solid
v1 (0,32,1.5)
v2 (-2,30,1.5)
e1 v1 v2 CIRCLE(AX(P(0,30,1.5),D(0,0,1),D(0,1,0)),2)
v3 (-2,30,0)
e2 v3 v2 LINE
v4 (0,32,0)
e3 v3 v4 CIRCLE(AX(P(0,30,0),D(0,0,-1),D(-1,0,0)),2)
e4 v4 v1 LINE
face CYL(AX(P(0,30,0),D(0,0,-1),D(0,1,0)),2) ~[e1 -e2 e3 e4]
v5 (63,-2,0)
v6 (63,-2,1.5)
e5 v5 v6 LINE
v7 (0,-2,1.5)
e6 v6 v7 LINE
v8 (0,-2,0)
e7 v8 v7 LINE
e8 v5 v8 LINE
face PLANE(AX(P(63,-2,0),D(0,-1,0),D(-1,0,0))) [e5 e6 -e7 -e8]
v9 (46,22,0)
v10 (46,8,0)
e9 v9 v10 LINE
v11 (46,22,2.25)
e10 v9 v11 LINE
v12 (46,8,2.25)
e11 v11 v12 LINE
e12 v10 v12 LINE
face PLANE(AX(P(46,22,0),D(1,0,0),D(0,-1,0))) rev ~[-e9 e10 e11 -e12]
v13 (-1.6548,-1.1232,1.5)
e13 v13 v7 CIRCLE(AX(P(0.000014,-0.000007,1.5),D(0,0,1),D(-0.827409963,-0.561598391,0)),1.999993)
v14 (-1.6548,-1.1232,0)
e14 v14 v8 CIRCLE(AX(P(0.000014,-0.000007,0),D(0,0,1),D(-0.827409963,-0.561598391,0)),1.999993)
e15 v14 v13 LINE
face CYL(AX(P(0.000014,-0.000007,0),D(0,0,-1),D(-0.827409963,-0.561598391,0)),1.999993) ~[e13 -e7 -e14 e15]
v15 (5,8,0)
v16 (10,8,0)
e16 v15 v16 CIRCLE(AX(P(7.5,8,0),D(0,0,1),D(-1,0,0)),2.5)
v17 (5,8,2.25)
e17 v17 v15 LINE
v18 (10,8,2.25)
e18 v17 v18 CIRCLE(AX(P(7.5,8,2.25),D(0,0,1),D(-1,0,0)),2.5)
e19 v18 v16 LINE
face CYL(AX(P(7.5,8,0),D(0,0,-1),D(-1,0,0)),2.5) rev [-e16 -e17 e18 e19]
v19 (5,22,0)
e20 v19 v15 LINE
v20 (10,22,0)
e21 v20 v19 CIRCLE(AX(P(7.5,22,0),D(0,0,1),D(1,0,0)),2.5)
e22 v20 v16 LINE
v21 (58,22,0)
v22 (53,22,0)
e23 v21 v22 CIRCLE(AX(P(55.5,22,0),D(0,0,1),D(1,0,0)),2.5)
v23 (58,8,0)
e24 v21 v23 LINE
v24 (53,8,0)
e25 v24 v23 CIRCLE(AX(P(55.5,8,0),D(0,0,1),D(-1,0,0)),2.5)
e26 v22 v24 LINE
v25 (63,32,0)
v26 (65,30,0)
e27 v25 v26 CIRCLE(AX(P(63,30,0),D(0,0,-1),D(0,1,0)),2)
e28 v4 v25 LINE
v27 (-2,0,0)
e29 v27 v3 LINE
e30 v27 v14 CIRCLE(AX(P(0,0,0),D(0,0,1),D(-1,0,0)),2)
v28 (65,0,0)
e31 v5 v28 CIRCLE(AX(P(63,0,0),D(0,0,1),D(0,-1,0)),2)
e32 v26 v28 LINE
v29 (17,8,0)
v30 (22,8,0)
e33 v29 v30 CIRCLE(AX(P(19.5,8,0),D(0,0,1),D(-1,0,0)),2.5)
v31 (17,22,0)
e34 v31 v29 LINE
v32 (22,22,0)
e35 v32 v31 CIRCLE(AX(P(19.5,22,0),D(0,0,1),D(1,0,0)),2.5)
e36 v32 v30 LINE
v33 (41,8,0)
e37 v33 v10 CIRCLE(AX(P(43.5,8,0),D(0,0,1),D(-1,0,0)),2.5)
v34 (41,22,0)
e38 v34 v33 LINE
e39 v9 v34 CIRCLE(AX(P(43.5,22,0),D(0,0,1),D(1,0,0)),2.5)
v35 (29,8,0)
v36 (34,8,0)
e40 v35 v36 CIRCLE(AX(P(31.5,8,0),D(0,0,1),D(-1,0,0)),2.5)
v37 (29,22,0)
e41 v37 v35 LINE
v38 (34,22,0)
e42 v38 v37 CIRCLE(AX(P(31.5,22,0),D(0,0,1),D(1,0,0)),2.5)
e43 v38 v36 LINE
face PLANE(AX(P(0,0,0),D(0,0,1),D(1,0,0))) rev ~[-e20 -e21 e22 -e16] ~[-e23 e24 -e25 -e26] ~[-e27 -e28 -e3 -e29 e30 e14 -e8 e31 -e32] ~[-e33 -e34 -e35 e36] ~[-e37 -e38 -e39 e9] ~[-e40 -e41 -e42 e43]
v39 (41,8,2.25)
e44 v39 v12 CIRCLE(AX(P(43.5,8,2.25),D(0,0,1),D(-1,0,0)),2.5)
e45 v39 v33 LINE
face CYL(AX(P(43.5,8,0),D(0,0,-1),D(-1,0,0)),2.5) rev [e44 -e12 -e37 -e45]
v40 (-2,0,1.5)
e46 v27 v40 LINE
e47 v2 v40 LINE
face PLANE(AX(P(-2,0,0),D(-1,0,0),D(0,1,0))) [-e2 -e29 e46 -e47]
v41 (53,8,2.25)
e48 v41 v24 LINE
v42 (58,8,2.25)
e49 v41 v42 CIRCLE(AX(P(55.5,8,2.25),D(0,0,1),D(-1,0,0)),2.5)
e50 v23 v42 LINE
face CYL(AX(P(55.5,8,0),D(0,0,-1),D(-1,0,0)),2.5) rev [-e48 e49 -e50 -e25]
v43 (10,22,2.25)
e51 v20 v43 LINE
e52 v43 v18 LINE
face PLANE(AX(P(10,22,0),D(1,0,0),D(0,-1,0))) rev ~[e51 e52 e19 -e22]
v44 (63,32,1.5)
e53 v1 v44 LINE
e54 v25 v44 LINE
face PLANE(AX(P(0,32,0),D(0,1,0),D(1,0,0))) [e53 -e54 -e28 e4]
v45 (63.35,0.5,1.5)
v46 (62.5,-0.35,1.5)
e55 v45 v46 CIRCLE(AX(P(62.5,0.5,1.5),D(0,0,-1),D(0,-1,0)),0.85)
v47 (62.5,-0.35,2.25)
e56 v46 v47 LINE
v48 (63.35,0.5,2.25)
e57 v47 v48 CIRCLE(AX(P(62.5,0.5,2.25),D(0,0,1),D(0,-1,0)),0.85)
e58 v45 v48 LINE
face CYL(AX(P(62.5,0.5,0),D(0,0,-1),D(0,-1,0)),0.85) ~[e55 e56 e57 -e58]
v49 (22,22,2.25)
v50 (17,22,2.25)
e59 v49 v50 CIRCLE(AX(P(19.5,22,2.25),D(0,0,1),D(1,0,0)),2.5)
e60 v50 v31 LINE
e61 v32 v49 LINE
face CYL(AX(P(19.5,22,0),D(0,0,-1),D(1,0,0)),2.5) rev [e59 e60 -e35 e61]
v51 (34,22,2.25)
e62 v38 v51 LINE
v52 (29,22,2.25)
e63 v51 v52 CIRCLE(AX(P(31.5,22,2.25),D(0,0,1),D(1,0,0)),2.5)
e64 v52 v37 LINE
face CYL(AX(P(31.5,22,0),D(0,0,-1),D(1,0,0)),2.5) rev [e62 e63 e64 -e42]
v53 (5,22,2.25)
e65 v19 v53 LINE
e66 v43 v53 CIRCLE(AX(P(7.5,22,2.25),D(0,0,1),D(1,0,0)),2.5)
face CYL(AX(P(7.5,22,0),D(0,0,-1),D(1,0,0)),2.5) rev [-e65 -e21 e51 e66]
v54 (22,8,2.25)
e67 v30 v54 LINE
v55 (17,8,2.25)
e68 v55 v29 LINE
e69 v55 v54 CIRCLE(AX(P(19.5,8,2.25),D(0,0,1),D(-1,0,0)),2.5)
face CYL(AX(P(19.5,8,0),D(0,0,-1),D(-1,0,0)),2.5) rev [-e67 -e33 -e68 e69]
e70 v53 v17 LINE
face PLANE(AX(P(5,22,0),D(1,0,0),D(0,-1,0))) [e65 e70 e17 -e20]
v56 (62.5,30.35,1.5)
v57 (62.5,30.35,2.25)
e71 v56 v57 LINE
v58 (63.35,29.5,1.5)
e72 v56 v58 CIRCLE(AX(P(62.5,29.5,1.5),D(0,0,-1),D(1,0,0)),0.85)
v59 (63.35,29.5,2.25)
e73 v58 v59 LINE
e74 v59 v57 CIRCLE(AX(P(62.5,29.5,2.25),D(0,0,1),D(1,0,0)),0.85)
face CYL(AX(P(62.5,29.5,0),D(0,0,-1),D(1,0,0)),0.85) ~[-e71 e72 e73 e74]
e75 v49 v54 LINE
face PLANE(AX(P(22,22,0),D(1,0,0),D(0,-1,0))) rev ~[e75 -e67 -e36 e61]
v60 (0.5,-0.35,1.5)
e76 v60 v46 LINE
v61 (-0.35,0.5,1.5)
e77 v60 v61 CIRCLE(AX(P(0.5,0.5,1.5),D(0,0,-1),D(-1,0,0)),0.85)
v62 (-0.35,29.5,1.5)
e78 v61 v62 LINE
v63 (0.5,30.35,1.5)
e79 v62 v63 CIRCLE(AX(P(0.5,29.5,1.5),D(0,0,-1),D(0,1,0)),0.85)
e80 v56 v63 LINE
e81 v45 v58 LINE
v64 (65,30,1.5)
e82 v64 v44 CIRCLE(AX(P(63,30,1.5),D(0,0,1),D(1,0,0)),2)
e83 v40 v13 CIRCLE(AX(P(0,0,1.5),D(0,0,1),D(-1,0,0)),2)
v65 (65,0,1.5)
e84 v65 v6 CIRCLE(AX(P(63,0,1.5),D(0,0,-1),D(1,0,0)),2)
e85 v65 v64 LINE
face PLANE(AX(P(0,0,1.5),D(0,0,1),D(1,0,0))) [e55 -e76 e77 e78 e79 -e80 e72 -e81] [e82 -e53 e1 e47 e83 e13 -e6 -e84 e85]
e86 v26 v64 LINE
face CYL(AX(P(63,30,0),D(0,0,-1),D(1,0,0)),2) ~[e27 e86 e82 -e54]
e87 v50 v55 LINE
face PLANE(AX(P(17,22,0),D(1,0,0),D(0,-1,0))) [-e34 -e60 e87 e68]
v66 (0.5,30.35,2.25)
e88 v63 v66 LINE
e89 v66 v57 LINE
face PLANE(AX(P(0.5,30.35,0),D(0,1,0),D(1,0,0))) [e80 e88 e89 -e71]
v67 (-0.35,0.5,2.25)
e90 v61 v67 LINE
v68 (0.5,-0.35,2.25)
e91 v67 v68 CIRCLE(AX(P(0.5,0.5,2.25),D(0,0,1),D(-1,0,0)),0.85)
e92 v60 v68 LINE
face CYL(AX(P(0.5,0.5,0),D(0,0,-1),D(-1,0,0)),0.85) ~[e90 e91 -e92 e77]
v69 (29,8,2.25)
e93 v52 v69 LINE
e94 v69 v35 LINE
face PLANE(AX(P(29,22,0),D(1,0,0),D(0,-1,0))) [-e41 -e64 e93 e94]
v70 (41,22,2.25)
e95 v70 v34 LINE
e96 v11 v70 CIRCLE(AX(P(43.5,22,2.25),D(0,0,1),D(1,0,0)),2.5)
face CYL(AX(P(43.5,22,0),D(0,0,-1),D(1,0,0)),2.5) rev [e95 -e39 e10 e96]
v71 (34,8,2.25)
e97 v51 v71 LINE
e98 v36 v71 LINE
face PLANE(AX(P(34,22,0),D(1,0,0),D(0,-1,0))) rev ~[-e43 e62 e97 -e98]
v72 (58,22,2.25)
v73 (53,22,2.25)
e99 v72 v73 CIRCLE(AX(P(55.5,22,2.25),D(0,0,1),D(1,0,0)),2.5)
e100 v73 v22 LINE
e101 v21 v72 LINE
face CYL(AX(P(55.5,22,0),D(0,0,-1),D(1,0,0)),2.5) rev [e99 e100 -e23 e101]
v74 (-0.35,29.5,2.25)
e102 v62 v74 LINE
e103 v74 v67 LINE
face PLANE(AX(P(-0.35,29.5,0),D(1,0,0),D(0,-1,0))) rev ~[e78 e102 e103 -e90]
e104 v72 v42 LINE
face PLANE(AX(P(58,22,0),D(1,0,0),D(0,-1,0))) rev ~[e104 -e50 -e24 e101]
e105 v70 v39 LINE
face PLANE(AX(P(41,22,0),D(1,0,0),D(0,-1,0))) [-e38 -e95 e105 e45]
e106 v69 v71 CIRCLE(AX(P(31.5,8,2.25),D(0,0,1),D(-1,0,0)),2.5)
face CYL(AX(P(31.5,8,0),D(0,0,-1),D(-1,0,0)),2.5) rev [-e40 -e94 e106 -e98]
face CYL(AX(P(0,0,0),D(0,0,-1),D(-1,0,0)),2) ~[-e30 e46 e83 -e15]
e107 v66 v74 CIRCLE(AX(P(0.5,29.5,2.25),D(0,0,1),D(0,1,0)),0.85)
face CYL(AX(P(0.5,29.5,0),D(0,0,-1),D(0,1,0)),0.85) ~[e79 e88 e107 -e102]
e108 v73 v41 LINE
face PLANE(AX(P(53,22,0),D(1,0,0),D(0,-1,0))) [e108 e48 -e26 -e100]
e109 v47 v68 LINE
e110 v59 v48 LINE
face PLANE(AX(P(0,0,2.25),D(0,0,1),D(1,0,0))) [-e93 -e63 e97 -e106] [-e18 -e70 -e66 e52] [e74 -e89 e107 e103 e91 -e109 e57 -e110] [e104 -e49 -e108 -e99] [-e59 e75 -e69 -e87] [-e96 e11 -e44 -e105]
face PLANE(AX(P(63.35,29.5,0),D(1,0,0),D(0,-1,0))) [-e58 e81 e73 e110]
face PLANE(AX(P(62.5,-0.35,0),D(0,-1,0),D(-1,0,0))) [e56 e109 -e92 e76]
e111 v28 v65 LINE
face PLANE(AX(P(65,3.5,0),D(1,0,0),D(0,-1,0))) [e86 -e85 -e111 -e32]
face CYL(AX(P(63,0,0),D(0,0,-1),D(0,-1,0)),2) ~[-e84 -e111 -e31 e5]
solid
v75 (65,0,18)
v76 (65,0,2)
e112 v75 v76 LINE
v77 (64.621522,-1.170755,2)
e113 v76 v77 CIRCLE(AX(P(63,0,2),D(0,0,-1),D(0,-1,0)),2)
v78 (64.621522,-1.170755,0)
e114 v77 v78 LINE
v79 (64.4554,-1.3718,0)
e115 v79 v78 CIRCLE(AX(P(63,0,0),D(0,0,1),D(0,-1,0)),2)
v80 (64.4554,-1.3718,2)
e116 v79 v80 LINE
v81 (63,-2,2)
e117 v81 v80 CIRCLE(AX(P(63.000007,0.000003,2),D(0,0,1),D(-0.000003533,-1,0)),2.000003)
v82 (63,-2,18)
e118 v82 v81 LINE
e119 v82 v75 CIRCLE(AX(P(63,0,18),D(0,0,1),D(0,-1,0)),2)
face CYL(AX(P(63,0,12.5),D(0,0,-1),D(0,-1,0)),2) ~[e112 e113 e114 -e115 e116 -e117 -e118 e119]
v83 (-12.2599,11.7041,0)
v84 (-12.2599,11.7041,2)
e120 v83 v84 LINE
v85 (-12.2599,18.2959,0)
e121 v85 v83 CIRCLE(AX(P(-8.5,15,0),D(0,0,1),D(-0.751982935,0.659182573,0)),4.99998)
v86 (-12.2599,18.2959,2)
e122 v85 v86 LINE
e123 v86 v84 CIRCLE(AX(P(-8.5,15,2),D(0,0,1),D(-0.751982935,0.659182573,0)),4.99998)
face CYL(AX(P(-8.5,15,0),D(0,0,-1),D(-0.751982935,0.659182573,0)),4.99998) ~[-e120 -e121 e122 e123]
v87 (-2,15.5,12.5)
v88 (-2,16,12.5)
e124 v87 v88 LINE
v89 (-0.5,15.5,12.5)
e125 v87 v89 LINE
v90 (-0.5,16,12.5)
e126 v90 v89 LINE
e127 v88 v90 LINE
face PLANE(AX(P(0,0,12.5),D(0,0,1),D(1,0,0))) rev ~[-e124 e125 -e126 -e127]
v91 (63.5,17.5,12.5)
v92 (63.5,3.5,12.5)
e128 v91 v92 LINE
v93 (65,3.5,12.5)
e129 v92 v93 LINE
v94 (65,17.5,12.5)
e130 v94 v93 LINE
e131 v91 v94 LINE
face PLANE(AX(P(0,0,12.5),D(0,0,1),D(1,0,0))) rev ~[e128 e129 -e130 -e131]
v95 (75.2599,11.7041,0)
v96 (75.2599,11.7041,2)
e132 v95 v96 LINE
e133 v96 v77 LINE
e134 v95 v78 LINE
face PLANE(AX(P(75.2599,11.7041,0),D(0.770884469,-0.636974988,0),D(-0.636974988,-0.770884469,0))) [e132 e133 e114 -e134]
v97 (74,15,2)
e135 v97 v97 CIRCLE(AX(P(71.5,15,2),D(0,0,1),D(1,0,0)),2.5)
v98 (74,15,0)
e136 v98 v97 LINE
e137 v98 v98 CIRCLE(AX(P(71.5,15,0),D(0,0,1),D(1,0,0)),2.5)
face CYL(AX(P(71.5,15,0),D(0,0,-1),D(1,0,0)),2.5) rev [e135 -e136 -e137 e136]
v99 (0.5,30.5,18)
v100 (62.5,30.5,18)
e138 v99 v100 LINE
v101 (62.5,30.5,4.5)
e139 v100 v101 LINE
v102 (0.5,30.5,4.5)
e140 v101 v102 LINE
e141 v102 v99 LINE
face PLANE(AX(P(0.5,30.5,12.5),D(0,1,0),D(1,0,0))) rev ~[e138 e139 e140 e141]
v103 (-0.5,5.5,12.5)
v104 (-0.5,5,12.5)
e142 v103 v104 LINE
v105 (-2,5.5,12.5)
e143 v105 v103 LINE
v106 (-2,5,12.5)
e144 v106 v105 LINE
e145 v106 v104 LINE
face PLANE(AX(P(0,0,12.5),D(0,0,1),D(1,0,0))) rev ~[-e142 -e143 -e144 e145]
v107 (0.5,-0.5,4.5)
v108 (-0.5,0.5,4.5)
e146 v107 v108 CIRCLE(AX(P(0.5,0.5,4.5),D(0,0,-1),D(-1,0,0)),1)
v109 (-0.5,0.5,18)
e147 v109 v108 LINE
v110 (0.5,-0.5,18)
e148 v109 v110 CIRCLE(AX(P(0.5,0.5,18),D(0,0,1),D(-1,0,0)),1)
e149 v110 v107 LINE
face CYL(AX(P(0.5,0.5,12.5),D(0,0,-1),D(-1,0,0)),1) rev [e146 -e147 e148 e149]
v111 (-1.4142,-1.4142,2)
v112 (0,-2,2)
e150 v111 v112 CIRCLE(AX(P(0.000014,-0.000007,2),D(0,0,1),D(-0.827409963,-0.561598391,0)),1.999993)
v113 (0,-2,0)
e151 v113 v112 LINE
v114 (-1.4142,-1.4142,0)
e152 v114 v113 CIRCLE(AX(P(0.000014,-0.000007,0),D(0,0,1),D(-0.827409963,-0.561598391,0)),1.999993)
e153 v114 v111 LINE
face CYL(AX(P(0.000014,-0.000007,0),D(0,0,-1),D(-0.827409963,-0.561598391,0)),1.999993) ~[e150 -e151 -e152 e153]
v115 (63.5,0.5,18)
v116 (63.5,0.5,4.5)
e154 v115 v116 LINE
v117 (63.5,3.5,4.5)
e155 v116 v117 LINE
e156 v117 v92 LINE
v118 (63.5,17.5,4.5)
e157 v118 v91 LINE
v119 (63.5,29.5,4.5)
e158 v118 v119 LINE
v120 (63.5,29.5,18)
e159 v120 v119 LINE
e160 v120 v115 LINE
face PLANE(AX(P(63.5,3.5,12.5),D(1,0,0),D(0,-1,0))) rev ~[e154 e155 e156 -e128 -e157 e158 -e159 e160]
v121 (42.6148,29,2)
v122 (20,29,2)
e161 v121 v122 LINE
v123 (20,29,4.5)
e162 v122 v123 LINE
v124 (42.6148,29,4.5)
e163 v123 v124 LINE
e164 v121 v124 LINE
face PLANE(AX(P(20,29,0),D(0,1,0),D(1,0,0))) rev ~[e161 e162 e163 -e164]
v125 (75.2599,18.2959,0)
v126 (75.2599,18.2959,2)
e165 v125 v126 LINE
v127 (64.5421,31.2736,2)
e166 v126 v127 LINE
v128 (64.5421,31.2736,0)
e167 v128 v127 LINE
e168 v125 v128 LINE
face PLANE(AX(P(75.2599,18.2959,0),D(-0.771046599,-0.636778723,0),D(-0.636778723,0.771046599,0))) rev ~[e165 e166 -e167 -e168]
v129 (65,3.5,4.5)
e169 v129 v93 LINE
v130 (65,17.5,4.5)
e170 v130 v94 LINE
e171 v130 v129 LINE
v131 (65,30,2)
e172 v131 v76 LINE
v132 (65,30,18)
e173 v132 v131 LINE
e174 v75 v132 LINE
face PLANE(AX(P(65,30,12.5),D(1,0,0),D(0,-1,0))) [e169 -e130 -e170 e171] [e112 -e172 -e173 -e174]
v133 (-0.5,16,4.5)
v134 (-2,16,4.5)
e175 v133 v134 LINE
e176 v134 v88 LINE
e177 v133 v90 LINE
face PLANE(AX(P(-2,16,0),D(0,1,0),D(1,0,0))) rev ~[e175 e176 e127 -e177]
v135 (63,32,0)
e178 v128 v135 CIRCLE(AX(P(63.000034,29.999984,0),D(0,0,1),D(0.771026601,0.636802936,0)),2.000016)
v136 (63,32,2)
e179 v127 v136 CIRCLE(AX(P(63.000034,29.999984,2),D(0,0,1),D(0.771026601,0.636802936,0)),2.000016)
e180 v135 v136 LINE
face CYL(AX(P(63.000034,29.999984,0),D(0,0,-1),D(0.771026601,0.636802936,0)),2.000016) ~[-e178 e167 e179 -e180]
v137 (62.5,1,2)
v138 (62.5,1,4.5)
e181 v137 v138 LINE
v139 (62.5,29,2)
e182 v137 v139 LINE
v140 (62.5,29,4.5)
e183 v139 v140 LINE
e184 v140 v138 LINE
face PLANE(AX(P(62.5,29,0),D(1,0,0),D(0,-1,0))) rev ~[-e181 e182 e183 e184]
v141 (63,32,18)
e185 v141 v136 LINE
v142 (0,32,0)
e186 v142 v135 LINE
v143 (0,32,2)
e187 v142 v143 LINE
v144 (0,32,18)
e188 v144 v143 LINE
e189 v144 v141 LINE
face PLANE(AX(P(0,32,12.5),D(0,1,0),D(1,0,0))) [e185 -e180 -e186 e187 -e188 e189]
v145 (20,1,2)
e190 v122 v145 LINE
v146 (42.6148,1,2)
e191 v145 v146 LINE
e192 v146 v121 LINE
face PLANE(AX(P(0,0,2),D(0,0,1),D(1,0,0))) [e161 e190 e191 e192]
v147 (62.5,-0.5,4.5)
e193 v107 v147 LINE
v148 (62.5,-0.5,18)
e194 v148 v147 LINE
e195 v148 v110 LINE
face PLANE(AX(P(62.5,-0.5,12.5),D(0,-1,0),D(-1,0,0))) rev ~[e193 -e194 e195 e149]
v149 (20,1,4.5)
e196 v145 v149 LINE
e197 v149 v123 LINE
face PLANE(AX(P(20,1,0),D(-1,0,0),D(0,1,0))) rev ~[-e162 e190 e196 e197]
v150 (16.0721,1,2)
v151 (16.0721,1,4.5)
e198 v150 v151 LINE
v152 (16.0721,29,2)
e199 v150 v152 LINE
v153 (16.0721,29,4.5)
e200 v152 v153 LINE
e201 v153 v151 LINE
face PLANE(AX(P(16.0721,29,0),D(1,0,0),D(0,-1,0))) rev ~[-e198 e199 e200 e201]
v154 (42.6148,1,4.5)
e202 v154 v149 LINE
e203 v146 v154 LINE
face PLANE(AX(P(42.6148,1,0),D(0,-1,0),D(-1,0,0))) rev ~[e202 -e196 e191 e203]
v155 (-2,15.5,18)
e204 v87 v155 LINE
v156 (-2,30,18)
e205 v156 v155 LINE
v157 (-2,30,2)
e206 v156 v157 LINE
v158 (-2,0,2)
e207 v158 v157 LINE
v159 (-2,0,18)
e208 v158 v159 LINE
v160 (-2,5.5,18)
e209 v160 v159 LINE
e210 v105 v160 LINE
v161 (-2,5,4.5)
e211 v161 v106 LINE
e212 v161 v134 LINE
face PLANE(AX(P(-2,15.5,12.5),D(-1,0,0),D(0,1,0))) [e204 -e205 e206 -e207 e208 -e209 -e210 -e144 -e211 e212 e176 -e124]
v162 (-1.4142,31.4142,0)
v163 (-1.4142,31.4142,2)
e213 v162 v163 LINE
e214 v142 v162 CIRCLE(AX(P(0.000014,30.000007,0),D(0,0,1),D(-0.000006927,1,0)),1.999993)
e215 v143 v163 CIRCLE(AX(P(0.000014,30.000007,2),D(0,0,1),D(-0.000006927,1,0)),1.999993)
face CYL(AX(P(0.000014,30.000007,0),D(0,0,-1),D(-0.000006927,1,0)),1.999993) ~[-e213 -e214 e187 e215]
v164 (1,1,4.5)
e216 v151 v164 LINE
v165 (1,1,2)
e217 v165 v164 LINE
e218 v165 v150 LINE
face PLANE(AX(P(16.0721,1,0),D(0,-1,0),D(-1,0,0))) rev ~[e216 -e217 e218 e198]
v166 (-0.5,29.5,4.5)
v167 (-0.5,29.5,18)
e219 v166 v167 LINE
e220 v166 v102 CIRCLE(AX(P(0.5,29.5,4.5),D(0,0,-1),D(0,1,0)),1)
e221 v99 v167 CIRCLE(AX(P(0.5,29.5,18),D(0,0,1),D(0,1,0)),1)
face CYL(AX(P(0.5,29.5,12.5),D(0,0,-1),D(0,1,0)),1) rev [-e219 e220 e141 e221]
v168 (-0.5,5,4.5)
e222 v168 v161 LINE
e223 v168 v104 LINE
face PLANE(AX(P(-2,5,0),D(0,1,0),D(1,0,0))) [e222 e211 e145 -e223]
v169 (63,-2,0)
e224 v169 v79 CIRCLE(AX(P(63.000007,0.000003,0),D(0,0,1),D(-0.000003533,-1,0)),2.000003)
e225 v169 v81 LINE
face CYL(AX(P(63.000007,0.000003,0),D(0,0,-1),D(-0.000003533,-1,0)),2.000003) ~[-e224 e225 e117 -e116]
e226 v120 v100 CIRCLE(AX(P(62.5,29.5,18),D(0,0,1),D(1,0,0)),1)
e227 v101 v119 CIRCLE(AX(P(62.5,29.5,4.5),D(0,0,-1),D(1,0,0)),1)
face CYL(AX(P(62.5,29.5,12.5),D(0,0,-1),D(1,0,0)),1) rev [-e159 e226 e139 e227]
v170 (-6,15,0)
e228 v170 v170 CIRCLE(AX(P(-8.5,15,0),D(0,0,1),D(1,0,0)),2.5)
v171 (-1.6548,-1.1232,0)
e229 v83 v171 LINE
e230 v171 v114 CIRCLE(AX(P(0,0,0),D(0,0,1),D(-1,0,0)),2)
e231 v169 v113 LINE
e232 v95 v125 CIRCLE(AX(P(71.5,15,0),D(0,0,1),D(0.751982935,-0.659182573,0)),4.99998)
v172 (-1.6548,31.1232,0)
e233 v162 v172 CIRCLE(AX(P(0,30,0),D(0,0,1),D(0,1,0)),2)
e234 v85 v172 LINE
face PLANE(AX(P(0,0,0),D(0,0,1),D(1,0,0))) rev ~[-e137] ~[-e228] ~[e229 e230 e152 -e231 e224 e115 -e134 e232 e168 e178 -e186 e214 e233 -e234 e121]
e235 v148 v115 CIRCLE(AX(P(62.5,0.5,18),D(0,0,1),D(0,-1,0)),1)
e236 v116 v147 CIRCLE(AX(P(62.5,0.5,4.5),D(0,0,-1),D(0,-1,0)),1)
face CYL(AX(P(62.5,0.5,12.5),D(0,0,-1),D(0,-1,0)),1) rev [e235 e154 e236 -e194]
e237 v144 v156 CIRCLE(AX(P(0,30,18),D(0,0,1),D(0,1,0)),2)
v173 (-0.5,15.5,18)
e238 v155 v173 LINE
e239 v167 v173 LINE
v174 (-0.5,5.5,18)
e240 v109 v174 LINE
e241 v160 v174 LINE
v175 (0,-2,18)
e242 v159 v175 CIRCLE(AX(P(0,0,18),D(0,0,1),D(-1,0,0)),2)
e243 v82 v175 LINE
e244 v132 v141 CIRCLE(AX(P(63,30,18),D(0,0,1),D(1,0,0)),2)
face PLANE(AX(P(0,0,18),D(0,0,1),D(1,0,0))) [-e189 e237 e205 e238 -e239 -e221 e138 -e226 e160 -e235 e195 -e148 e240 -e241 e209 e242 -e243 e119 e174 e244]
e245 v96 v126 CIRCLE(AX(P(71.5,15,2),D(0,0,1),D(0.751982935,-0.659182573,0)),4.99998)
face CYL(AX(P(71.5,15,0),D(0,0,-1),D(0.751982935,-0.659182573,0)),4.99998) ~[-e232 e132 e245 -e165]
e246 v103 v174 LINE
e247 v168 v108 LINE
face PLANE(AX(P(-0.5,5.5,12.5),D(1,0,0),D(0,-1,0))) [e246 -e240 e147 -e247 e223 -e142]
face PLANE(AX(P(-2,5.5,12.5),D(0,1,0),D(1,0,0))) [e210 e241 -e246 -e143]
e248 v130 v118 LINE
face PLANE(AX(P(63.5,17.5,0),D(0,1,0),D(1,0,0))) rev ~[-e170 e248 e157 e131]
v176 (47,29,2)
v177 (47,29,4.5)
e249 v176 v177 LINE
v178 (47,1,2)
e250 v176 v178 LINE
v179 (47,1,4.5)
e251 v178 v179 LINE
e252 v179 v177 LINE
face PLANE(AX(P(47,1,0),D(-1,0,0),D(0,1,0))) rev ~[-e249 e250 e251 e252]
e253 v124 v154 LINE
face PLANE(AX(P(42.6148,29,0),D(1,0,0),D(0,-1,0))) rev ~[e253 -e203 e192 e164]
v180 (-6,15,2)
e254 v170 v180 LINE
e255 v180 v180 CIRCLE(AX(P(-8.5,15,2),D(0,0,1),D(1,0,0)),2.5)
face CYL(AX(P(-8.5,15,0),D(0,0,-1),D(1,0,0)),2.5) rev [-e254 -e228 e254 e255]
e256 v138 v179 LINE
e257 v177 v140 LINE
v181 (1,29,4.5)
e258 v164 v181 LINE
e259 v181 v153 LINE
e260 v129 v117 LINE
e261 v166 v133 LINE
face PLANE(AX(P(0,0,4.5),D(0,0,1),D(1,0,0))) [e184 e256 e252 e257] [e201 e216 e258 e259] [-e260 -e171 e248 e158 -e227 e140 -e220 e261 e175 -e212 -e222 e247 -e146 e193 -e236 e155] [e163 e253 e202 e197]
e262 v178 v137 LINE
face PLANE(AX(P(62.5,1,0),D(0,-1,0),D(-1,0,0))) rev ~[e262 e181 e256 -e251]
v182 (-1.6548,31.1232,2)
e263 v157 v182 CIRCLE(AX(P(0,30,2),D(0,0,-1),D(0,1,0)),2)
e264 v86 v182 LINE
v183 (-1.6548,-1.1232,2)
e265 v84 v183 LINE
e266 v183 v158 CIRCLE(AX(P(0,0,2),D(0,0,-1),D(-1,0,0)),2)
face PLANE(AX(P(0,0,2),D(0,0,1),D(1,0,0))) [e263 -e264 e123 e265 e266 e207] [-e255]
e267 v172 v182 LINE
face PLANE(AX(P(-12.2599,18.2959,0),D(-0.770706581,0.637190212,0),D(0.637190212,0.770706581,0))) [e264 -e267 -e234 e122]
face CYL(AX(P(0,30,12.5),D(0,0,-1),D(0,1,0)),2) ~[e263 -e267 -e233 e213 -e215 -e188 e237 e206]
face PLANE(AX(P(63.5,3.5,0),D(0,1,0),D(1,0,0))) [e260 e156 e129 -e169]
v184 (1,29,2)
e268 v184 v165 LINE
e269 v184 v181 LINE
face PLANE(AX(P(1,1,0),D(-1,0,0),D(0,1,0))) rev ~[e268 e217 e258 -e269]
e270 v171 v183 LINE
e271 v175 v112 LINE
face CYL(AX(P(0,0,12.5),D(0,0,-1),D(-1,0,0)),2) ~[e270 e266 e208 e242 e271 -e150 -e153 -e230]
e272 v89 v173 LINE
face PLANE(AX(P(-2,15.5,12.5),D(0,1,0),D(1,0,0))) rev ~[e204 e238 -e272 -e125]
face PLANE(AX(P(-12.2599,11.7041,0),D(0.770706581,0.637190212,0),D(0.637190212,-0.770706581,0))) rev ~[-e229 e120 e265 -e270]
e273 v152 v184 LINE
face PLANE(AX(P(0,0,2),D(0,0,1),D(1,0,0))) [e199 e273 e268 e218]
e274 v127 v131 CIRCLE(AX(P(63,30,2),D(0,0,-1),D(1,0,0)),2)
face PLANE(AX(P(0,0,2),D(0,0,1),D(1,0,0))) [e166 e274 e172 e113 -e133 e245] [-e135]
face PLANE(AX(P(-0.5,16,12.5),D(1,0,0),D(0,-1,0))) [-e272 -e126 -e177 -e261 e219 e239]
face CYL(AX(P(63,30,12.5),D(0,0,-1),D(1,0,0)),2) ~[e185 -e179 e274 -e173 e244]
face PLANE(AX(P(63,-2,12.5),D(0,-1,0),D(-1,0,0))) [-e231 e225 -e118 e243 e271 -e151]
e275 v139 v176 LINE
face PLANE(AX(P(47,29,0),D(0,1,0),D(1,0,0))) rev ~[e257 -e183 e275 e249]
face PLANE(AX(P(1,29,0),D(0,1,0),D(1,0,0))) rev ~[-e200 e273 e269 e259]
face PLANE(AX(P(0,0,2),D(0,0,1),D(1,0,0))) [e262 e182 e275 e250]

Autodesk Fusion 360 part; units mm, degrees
sketch "Sketch1" plane through (0, 0, 0) normal (0, 0, 1) x (1, 0, 0) in component "card"
  line L0 (0, 0) -> (63, 0)
  line L1 (63, 0) -> (63, 30)
  line L2 (63, 30) -> (0, 30)
  line L3 (0, 30) -> (0, 0)
  line L4 (1, 29) -> (8.5, 29)
  line L5 (8.5, 29) -> (8.5, 19)
  line L6 (8.5, 19) -> (1, 19)
  line L7 (1, 19) -> (1, 29)
  line L8 (1, 6) -> (14.5, 6)
  line L9 (14.5, 6) -> (14.5, 15)
  line L10 (14.5, 15) -> (1, 15)
  line L11 (1, 15) -> (1, 6)
  line L12 (62, 29) -> (54.5, 29)
  line L13 (54.5, 29) -> (54.5, 19)
  line L14 (54.5, 19) -> (62, 19)
  line L15 (62, 19) -> (62, 29)
  line L16 (62, 4) -> (52, 4)
  line L17 (52, 4) -> (52, 17)
  line L18 (52, 17) -> (62, 17)
  line L19 (62, 17) -> (62, 4)
  dimension "d1" = 63
  dimension "d2" = 30
  dimension "d3" = 7.5
  dimension "d4" = 10
  dimension "d5" = 13.5
  dimension "d6" = 9
  dimension "d7" = 7.5
  dimension "d8" = 10
  dimension "d9" = 10
  dimension "d10" = 13
sketch "pcb support 0,4.5" plane through (0, 0, 0) normal (0, 0, 1) x (1, 0, 0) in component "bottom"
  line L0 (62.5, 29) -> (62.5, 1)
  line L1 (1, 1) -> (1, 29)
  line L2 (20, 1) -> (20, 29)
  line L3 (16.0721, 29) -> (16.0721, 1)
  line L4 (42.6148, 29) -> (42.6148, 1)
  line L5 (47, 1) -> (47, 29)
  line L6 (1, 29) -> (16.0721, 29)
  line L7 (20, 29) -> (42.6148, 29)
  line L8 (47, 29) -> (62.5, 29)
  line L9 (16.0721, 1) -> (1, 1)
  line L10 (62.5, 1) -> (47, 1)
  line L11 (42.6148, 1) -> (20, 1)
  line L12 (0, 32) -> (63, 32)
  line L13 (65, 30) -> (65, 0)
  line L14 (63, -2) -> (0, -2)
  line L15 (-2, 0) -> (-2, 30)
  arc A0 (0, 32) -> (-2, 30) centre (0, 30) ccw
  arc A1 (65, 30) -> (63, 32) centre (63, 30) ccw
  arc A2 (-2, 0) -> (0, -2) centre (0, 0) ccw
  arc A3 (63, -2) -> (65, 0) centre (63, 0) ccw
  dimension "d11" = 61.5
  dimension "d12" = 28
  dimension "d13" = 2
sketch "bottom 0,2.0" plane through (0, 0, 0) normal (0, 0, 1) x (1, 0, 0) in component "bottom"
  line L0 (0, 32) -> (63, 32)
  arc A0 (64.5421, 31.2736) -> (63, 32) centre (63, 30) ccw
  arc A1 (63, -2) -> (64.4554, -1.3718) centre (63, 0) ccw
  line L1 (63, -2) -> (0, -2)
  arc A2 (-1.6548, -1.1232) -> (0, -2) centre (0, 0) ccw
  arc A3 (0, 32) -> (-1.6548, 31.1232) centre (0, 30) ccw
  circle A4 centre (-8.5, 15) radius 2.5
  circle A5 centre (71.5, 15) radius 2.5
  arc A6 (-12.2599, 18.2959) -> (-12.2599, 11.7041) centre (-8.5, 15) ccw
  arc A7 (75.2599, 11.7041) -> (75.2599, 18.2959) centre (71.5, 15) ccw
  line L2 (-12.2599, 18.2959) -> (-1.4142, 31.4142)
  line L3 (-12.2599, 11.7041) -> (-1.4142, -1.4142)
  line L4 (75.2599, 18.2959) -> (64.5421, 31.2736)
  line L5 (75.2599, 11.7041) -> (64.4554, -1.3718)
  dimension "d14" = 2
  dimension "d15" = 5
  dimension "d17" = 5
  dimension "d19" = 10
  dimension "d20" = 10
sketch "lower wall 0,12.5" plane through (0, 0, 0) normal (0, 0, 1) x (1, 0, 0) in component "bottom"
  line L0 (0.5, 30.5) -> (62.5, 30.5)
  line L1 (62.5, -0.5) -> (0.5, -0.5)
  line L2 (0, 32) -> (63, 32)
  arc A0 (0, 32) -> (-2, 30) centre (0, 30) ccw
  arc A1 (-2, 0) -> (0, -2) centre (0, 0) ccw
  line L3 (63, -2) -> (0, -2)
  arc A2 (63, -2) -> (65, 0) centre (63, 0) ccw
  arc A3 (65, 30) -> (63, 32) centre (63, 30) ccw
  arc A4 (0.5, 30.5) -> (-0.5, 29.5) centre (0.5, 29.5) ccw
  arc A5 (-0.5, 0.5) -> (0.5, -0.5) centre (0.5, 0.5) ccw
  arc A6 (63.5, 29.5) -> (62.5, 30.5) centre (62.5, 29.5) ccw
  arc A7 (62.5, -0.5) -> (63.5, 0.5) centre (62.5, 0.5) ccw
  line L4 (-2, 5) -> (-0.5, 5)
  line L5 (-2, 16) -> (-0.5, 16)
  line L6 (63.5, 3.5) -> (65, 3.5)
  line L7 (63.5, 17.5) -> (65, 17.5)
  line L8 (63.5, 29.5) -> (63.5, 17.5)
  line L9 (63.5, 3.5) -> (63.5, 0.5)
  line L10 (65, 30) -> (65, 17.5)
  line L11 (65, 3.5) -> (65, 0)
  line L12 (-2, 0) -> (-2, 5)
  line L13 (-2, 16) -> (-2, 30)
  line L14 (-0.5, 0.5) -> (-0.5, 5)
  line L15 (-0.5, 16) -> (-0.5, 29.5)
  dimension "d21" = 2
  dimension "d22" = 1
  dimension "d23" = 1
  dimension "d24" = 1
  dimension "d25" = 1
sketch "upper wall 12.5/5.5" plane through (0, 0, 0) normal (0, 0, 1) x (1, 0, 0) in component "bottom"
  line L0 (-0.5, 16) -> (-0.5, 29.5)
  line L1 (-2, 0) -> (-2, 5)
  arc A0 (-0.5, 0.5) -> (0.5, -0.5) centre (0.5, 0.5) ccw
  line L2 (0.5, 30.5) -> (62.5, 30.5)
  line L3 (-0.5, 0.5) -> (-0.5, 5)
  line L4 (0, 32) -> (63, 32)
  arc A1 (0.5, 30.5) -> (-0.5, 29.5) centre (0.5, 29.5) ccw
  line L5 (-2, 16) -> (-2, 30)
  line L6 (62.5, -0.5) -> (0.5, -0.5)
  arc A2 (-2, 0) -> (0, -2) centre (0, 0) ccw
  arc A3 (0, 32) -> (-2, 30) centre (0, 30) ccw
  line L7 (63, -2) -> (0, -2)
  arc A4 (65, 30) -> (63, 32) centre (63, 30) ccw
  line L8 (65, 3.5) -> (65, 0)
  line L9 (63.5, 3.5) -> (63.5, 0.5)
  arc A5 (63, -2) -> (65, 0) centre (63, 0) ccw
  line L10 (63.5, 29.5) -> (63.5, 17.5)
  line L11 (65, 30) -> (65, 17.5)
  arc A6 (62.5, -0.5) -> (63.5, 0.5) centre (62.5, 0.5) ccw
  arc A7 (63.5, 29.5) -> (62.5, 30.5) centre (62.5, 29.5) ccw
  line L12 (63.5, 17.5) -> (63.5, 3.5)
  line L13 (65, 17.5) -> (65, 3.5)
  line L14 (-2, 15.5) -> (-0.5, 15.5)
  line L15 (-2, 5.5) -> (-0.5, 5.5)
  line L16 (-2, 5) -> (-2, 5.5)
  line L17 (-2, 15.5) -> (-2, 16)
  line L18 (-0.5, 16) -> (-0.5, 15.5)
  line L19 (-0.5, 5.5) -> (-0.5, 5)
extrude "Extrude1" add sketch "bottom 0,2.0" along normal blind 2 contours L0 A0 A1 L1 A2 A3 A6 A7 L2 L3 L4 L5 makes body 1
extrude "Extrude2" add sketch "pcb support 0,4.5" along normal blind 4.5 bodies 1
extrude "Extrude3" add sketch "lower wall 0,12.5" along normal blind 12.5 bodies 1
extrude "Extrude4" add sketch "upper wall 12.5/5.5" along normal blind 5.5 from surface at 12.5 bodies 1
sketch "top 0,1.5" plane through (0, 0, 0) normal (0, 0, 1) x (1, 0, 0) in component "top"
  line L0 (63, -2) -> (0, -2)
  line L1 (0, 32) -> (63, 32)
  line L2 (0, 32) -> (63, 32)
  line L3 (0, 32) -> (63, 32)
  line L4 (63, -2) -> (0, -2)
  line L5 (65, 30) -> (65, 17.5)
  line L6 (63, -2) -> (0, -2)
  line L7 (65, 30) -> (65, 0)
  arc A0 (63, -2) -> (65, 0) centre (63, 0) ccw
  line L8 (63, -2) -> (0, -2)
  arc A1 (63, -2) -> (65, 0) centre (63, 0) ccw
  arc A2 (65, 30) -> (63, 32) centre (63, 30) ccw
  arc A3 (63, -2) -> (64.4554, -1.3718) centre (63, 0) ccw
  arc A4 (65, 30) -> (63, 32) centre (63, 30) ccw
  arc A5 (0, 32) -> (-2, 30) centre (0, 30) ccw
  arc A6 (63, -2) -> (65, 0) centre (63, 0) ccw
  line L9 (0, 32) -> (63, 32)
  line L10 (65, 3.5) -> (65, 0)
  line L11 (65, 30) -> (65, 17.5)
  arc A7 (-1.6548, -1.1232) -> (0, -2) centre (0, 0) ccw
  arc A8 (64.5421, 31.2736) -> (63, 32) centre (63, 30) ccw
  line L12 (65, 3.5) -> (65, 0)
  arc A9 (65, 30) -> (63, 32) centre (63, 30) ccw
  line L13 (-2, 16) -> (-2, 30)
  arc A10 (-2, 0) -> (0, -2) centre (0, 0) ccw
  line L14 (-2, 16) -> (-2, 30)
  arc A11 (0, 32) -> (-1.6548, 31.1232) centre (0, 30) ccw
  line L15 (-2, 0) -> (-2, 30)
  arc A12 (0, 32) -> (-2, 30) centre (0, 30) ccw
  arc A13 (0, 32) -> (-2, 30) centre (0, 30) ccw
  arc A14 (-2, 0) -> (0, -2) centre (0, 0) ccw
  arc A15 (-2, 0) -> (0, -2) centre (0, 0) ccw
  line L16 (-2, 16) -> (-2, 5)
  line L17 (5, 22) -> (5, 8)
  line L18 (10, 22) -> (10, 8)
  arc A16 (10, 22) -> (5, 22) centre (7.5, 22) ccw
  arc A17 (5, 8) -> (10, 8) centre (7.5, 8) ccw
  line L19 (22, 22) -> (22, 8)
  arc A18 (22, 22) -> (17, 22) centre (19.5, 22) ccw
  arc A19 (17, 8) -> (22, 8) centre (19.5, 8) ccw
  line L20 (17, 22) -> (17, 8)
  line L21 (34, 22) -> (34, 8)
  arc A20 (34, 22) -> (29, 22) centre (31.5, 22) ccw
  arc A21 (29, 8) -> (34, 8) centre (31.5, 8) ccw
  line L22 (29, 22) -> (29, 8)
  line L23 (46, 22) -> (46, 8)
  arc A22 (46, 22) -> (41, 22) centre (43.5, 22) ccw
  arc A23 (41, 8) -> (46, 8) centre (43.5, 8) ccw
  line L24 (41, 22) -> (41, 8)
  line L25 (58, 22) -> (58, 8)
  arc A24 (58, 22) -> (53, 22) centre (55.5, 22) ccw
  arc A25 (53, 8) -> (58, 8) centre (55.5, 8) ccw
  line L26 (53, 22) -> (53, 8)
  point P0 (-1.4142, 31.4142)
  point P1 (-1.4142, -1.4142)
  dimension "d60" = 2
  dimension "d77" = 48
  dimension "d78" = 0
sketch "lip 0,2.25" plane through (0, 0, 0) normal (0, 0, 1) x (1, 0, 0) in component "top"
  arc A0 (62.5, -0.35) -> (63.35, 0.5) centre (62.5, 0.5) ccw
  arc A1 (63.35, 29.5) -> (62.5, 30.35) centre (62.5, 29.5) ccw
  arc A2 (63.35, 29.5) -> (62.5, 30.35) centre (62.5, 29.5) ccw
  line L0 (63.35, 29.5) -> (63.35, 0.5)
  line L1 (63.35, 29.5) -> (63.35, 0.5)
  arc A3 (62.5, -0.35) -> (63.35, 0.5) centre (62.5, 0.5) ccw
  arc A4 (63.35, 29.5) -> (62.5, 30.35) centre (62.5, 29.5) ccw
  arc A5 (0.5, 30.35) -> (-0.35, 29.5) centre (0.5, 29.5) ccw
  line L2 (-0.35, 29.5) -> (-0.35, 0.5)
  line L3 (62.5, -0.35) -> (0.5, -0.35)
  line L4 (-0.35, 29.5) -> (-0.35, 0.5)
  arc A6 (-0.35, 0.5) -> (0.5, -0.35) centre (0.5, 0.5) ccw
  line L5 (0.5, 30.35) -> (62.5, 30.35)
  line L6 (62.5, -0.35) -> (0.5, -0.35)
  arc A7 (0.5, 30.35) -> (-0.35, 29.5) centre (0.5, 29.5) ccw
  line L7 (5, 22) -> (5, 8)
  arc A8 (29, 8) -> (34, 8) centre (31.5, 8) ccw
  line L8 (10, 22) -> (10, 8)
  arc A9 (34, 22) -> (29, 22) centre (31.5, 22) ccw
  arc A10 (10, 22) -> (5, 22) centre (7.5, 22) ccw
  line L9 (22, 22) -> (22, 8)
  line L10 (41, 22) -> (41, 8)
  arc A11 (46, 22) -> (41, 22) centre (43.5, 22) ccw
  arc A12 (5, 8) -> (10, 8) centre (7.5, 8) ccw
  line L11 (17, 22) -> (17, 8)
  arc A13 (58, 22) -> (53, 22) centre (55.5, 22) ccw
  arc A14 (22, 22) -> (17, 22) centre (19.5, 22) ccw
  arc A15 (17, 8) -> (22, 8) centre (19.5, 8) ccw
  line L12 (29, 22) -> (29, 8)
  arc A16 (41, 8) -> (46, 8) centre (43.5, 8) ccw
  arc A17 (53, 8) -> (58, 8) centre (55.5, 8) ccw
  line L13 (58, 22) -> (58, 8)
  line L14 (34, 22) -> (34, 8)
  line L15 (53, 22) -> (53, 8)
  line L16 (46, 22) -> (46, 8)
  point P0 (-1.4142, 31.4142)
  dimension "d81" = 48
  dimension "d82" = 0
extrude "Extrude1'" add sketch "top 0,1.5" along normal blind 1.5 separate body makes body 2 in component "top"
extrude "Extrude2'" add sketch "lip 0,2.25" along normal blind 2.25 bodies 2 in component "top"
component "card" placed x (1, 0, 0) y (0, 1, 0) z (0, 0, 1) at (0, 0, 0)
component "bottom" placed x (1, 0, 0) y (0, 1, 0) z (0, 0, 1) at (0, 0, 0)
component "top" placed x (1, 0, 0) y (0, 1, 0) z (0, 0, 1) at (0, 0, 0)
